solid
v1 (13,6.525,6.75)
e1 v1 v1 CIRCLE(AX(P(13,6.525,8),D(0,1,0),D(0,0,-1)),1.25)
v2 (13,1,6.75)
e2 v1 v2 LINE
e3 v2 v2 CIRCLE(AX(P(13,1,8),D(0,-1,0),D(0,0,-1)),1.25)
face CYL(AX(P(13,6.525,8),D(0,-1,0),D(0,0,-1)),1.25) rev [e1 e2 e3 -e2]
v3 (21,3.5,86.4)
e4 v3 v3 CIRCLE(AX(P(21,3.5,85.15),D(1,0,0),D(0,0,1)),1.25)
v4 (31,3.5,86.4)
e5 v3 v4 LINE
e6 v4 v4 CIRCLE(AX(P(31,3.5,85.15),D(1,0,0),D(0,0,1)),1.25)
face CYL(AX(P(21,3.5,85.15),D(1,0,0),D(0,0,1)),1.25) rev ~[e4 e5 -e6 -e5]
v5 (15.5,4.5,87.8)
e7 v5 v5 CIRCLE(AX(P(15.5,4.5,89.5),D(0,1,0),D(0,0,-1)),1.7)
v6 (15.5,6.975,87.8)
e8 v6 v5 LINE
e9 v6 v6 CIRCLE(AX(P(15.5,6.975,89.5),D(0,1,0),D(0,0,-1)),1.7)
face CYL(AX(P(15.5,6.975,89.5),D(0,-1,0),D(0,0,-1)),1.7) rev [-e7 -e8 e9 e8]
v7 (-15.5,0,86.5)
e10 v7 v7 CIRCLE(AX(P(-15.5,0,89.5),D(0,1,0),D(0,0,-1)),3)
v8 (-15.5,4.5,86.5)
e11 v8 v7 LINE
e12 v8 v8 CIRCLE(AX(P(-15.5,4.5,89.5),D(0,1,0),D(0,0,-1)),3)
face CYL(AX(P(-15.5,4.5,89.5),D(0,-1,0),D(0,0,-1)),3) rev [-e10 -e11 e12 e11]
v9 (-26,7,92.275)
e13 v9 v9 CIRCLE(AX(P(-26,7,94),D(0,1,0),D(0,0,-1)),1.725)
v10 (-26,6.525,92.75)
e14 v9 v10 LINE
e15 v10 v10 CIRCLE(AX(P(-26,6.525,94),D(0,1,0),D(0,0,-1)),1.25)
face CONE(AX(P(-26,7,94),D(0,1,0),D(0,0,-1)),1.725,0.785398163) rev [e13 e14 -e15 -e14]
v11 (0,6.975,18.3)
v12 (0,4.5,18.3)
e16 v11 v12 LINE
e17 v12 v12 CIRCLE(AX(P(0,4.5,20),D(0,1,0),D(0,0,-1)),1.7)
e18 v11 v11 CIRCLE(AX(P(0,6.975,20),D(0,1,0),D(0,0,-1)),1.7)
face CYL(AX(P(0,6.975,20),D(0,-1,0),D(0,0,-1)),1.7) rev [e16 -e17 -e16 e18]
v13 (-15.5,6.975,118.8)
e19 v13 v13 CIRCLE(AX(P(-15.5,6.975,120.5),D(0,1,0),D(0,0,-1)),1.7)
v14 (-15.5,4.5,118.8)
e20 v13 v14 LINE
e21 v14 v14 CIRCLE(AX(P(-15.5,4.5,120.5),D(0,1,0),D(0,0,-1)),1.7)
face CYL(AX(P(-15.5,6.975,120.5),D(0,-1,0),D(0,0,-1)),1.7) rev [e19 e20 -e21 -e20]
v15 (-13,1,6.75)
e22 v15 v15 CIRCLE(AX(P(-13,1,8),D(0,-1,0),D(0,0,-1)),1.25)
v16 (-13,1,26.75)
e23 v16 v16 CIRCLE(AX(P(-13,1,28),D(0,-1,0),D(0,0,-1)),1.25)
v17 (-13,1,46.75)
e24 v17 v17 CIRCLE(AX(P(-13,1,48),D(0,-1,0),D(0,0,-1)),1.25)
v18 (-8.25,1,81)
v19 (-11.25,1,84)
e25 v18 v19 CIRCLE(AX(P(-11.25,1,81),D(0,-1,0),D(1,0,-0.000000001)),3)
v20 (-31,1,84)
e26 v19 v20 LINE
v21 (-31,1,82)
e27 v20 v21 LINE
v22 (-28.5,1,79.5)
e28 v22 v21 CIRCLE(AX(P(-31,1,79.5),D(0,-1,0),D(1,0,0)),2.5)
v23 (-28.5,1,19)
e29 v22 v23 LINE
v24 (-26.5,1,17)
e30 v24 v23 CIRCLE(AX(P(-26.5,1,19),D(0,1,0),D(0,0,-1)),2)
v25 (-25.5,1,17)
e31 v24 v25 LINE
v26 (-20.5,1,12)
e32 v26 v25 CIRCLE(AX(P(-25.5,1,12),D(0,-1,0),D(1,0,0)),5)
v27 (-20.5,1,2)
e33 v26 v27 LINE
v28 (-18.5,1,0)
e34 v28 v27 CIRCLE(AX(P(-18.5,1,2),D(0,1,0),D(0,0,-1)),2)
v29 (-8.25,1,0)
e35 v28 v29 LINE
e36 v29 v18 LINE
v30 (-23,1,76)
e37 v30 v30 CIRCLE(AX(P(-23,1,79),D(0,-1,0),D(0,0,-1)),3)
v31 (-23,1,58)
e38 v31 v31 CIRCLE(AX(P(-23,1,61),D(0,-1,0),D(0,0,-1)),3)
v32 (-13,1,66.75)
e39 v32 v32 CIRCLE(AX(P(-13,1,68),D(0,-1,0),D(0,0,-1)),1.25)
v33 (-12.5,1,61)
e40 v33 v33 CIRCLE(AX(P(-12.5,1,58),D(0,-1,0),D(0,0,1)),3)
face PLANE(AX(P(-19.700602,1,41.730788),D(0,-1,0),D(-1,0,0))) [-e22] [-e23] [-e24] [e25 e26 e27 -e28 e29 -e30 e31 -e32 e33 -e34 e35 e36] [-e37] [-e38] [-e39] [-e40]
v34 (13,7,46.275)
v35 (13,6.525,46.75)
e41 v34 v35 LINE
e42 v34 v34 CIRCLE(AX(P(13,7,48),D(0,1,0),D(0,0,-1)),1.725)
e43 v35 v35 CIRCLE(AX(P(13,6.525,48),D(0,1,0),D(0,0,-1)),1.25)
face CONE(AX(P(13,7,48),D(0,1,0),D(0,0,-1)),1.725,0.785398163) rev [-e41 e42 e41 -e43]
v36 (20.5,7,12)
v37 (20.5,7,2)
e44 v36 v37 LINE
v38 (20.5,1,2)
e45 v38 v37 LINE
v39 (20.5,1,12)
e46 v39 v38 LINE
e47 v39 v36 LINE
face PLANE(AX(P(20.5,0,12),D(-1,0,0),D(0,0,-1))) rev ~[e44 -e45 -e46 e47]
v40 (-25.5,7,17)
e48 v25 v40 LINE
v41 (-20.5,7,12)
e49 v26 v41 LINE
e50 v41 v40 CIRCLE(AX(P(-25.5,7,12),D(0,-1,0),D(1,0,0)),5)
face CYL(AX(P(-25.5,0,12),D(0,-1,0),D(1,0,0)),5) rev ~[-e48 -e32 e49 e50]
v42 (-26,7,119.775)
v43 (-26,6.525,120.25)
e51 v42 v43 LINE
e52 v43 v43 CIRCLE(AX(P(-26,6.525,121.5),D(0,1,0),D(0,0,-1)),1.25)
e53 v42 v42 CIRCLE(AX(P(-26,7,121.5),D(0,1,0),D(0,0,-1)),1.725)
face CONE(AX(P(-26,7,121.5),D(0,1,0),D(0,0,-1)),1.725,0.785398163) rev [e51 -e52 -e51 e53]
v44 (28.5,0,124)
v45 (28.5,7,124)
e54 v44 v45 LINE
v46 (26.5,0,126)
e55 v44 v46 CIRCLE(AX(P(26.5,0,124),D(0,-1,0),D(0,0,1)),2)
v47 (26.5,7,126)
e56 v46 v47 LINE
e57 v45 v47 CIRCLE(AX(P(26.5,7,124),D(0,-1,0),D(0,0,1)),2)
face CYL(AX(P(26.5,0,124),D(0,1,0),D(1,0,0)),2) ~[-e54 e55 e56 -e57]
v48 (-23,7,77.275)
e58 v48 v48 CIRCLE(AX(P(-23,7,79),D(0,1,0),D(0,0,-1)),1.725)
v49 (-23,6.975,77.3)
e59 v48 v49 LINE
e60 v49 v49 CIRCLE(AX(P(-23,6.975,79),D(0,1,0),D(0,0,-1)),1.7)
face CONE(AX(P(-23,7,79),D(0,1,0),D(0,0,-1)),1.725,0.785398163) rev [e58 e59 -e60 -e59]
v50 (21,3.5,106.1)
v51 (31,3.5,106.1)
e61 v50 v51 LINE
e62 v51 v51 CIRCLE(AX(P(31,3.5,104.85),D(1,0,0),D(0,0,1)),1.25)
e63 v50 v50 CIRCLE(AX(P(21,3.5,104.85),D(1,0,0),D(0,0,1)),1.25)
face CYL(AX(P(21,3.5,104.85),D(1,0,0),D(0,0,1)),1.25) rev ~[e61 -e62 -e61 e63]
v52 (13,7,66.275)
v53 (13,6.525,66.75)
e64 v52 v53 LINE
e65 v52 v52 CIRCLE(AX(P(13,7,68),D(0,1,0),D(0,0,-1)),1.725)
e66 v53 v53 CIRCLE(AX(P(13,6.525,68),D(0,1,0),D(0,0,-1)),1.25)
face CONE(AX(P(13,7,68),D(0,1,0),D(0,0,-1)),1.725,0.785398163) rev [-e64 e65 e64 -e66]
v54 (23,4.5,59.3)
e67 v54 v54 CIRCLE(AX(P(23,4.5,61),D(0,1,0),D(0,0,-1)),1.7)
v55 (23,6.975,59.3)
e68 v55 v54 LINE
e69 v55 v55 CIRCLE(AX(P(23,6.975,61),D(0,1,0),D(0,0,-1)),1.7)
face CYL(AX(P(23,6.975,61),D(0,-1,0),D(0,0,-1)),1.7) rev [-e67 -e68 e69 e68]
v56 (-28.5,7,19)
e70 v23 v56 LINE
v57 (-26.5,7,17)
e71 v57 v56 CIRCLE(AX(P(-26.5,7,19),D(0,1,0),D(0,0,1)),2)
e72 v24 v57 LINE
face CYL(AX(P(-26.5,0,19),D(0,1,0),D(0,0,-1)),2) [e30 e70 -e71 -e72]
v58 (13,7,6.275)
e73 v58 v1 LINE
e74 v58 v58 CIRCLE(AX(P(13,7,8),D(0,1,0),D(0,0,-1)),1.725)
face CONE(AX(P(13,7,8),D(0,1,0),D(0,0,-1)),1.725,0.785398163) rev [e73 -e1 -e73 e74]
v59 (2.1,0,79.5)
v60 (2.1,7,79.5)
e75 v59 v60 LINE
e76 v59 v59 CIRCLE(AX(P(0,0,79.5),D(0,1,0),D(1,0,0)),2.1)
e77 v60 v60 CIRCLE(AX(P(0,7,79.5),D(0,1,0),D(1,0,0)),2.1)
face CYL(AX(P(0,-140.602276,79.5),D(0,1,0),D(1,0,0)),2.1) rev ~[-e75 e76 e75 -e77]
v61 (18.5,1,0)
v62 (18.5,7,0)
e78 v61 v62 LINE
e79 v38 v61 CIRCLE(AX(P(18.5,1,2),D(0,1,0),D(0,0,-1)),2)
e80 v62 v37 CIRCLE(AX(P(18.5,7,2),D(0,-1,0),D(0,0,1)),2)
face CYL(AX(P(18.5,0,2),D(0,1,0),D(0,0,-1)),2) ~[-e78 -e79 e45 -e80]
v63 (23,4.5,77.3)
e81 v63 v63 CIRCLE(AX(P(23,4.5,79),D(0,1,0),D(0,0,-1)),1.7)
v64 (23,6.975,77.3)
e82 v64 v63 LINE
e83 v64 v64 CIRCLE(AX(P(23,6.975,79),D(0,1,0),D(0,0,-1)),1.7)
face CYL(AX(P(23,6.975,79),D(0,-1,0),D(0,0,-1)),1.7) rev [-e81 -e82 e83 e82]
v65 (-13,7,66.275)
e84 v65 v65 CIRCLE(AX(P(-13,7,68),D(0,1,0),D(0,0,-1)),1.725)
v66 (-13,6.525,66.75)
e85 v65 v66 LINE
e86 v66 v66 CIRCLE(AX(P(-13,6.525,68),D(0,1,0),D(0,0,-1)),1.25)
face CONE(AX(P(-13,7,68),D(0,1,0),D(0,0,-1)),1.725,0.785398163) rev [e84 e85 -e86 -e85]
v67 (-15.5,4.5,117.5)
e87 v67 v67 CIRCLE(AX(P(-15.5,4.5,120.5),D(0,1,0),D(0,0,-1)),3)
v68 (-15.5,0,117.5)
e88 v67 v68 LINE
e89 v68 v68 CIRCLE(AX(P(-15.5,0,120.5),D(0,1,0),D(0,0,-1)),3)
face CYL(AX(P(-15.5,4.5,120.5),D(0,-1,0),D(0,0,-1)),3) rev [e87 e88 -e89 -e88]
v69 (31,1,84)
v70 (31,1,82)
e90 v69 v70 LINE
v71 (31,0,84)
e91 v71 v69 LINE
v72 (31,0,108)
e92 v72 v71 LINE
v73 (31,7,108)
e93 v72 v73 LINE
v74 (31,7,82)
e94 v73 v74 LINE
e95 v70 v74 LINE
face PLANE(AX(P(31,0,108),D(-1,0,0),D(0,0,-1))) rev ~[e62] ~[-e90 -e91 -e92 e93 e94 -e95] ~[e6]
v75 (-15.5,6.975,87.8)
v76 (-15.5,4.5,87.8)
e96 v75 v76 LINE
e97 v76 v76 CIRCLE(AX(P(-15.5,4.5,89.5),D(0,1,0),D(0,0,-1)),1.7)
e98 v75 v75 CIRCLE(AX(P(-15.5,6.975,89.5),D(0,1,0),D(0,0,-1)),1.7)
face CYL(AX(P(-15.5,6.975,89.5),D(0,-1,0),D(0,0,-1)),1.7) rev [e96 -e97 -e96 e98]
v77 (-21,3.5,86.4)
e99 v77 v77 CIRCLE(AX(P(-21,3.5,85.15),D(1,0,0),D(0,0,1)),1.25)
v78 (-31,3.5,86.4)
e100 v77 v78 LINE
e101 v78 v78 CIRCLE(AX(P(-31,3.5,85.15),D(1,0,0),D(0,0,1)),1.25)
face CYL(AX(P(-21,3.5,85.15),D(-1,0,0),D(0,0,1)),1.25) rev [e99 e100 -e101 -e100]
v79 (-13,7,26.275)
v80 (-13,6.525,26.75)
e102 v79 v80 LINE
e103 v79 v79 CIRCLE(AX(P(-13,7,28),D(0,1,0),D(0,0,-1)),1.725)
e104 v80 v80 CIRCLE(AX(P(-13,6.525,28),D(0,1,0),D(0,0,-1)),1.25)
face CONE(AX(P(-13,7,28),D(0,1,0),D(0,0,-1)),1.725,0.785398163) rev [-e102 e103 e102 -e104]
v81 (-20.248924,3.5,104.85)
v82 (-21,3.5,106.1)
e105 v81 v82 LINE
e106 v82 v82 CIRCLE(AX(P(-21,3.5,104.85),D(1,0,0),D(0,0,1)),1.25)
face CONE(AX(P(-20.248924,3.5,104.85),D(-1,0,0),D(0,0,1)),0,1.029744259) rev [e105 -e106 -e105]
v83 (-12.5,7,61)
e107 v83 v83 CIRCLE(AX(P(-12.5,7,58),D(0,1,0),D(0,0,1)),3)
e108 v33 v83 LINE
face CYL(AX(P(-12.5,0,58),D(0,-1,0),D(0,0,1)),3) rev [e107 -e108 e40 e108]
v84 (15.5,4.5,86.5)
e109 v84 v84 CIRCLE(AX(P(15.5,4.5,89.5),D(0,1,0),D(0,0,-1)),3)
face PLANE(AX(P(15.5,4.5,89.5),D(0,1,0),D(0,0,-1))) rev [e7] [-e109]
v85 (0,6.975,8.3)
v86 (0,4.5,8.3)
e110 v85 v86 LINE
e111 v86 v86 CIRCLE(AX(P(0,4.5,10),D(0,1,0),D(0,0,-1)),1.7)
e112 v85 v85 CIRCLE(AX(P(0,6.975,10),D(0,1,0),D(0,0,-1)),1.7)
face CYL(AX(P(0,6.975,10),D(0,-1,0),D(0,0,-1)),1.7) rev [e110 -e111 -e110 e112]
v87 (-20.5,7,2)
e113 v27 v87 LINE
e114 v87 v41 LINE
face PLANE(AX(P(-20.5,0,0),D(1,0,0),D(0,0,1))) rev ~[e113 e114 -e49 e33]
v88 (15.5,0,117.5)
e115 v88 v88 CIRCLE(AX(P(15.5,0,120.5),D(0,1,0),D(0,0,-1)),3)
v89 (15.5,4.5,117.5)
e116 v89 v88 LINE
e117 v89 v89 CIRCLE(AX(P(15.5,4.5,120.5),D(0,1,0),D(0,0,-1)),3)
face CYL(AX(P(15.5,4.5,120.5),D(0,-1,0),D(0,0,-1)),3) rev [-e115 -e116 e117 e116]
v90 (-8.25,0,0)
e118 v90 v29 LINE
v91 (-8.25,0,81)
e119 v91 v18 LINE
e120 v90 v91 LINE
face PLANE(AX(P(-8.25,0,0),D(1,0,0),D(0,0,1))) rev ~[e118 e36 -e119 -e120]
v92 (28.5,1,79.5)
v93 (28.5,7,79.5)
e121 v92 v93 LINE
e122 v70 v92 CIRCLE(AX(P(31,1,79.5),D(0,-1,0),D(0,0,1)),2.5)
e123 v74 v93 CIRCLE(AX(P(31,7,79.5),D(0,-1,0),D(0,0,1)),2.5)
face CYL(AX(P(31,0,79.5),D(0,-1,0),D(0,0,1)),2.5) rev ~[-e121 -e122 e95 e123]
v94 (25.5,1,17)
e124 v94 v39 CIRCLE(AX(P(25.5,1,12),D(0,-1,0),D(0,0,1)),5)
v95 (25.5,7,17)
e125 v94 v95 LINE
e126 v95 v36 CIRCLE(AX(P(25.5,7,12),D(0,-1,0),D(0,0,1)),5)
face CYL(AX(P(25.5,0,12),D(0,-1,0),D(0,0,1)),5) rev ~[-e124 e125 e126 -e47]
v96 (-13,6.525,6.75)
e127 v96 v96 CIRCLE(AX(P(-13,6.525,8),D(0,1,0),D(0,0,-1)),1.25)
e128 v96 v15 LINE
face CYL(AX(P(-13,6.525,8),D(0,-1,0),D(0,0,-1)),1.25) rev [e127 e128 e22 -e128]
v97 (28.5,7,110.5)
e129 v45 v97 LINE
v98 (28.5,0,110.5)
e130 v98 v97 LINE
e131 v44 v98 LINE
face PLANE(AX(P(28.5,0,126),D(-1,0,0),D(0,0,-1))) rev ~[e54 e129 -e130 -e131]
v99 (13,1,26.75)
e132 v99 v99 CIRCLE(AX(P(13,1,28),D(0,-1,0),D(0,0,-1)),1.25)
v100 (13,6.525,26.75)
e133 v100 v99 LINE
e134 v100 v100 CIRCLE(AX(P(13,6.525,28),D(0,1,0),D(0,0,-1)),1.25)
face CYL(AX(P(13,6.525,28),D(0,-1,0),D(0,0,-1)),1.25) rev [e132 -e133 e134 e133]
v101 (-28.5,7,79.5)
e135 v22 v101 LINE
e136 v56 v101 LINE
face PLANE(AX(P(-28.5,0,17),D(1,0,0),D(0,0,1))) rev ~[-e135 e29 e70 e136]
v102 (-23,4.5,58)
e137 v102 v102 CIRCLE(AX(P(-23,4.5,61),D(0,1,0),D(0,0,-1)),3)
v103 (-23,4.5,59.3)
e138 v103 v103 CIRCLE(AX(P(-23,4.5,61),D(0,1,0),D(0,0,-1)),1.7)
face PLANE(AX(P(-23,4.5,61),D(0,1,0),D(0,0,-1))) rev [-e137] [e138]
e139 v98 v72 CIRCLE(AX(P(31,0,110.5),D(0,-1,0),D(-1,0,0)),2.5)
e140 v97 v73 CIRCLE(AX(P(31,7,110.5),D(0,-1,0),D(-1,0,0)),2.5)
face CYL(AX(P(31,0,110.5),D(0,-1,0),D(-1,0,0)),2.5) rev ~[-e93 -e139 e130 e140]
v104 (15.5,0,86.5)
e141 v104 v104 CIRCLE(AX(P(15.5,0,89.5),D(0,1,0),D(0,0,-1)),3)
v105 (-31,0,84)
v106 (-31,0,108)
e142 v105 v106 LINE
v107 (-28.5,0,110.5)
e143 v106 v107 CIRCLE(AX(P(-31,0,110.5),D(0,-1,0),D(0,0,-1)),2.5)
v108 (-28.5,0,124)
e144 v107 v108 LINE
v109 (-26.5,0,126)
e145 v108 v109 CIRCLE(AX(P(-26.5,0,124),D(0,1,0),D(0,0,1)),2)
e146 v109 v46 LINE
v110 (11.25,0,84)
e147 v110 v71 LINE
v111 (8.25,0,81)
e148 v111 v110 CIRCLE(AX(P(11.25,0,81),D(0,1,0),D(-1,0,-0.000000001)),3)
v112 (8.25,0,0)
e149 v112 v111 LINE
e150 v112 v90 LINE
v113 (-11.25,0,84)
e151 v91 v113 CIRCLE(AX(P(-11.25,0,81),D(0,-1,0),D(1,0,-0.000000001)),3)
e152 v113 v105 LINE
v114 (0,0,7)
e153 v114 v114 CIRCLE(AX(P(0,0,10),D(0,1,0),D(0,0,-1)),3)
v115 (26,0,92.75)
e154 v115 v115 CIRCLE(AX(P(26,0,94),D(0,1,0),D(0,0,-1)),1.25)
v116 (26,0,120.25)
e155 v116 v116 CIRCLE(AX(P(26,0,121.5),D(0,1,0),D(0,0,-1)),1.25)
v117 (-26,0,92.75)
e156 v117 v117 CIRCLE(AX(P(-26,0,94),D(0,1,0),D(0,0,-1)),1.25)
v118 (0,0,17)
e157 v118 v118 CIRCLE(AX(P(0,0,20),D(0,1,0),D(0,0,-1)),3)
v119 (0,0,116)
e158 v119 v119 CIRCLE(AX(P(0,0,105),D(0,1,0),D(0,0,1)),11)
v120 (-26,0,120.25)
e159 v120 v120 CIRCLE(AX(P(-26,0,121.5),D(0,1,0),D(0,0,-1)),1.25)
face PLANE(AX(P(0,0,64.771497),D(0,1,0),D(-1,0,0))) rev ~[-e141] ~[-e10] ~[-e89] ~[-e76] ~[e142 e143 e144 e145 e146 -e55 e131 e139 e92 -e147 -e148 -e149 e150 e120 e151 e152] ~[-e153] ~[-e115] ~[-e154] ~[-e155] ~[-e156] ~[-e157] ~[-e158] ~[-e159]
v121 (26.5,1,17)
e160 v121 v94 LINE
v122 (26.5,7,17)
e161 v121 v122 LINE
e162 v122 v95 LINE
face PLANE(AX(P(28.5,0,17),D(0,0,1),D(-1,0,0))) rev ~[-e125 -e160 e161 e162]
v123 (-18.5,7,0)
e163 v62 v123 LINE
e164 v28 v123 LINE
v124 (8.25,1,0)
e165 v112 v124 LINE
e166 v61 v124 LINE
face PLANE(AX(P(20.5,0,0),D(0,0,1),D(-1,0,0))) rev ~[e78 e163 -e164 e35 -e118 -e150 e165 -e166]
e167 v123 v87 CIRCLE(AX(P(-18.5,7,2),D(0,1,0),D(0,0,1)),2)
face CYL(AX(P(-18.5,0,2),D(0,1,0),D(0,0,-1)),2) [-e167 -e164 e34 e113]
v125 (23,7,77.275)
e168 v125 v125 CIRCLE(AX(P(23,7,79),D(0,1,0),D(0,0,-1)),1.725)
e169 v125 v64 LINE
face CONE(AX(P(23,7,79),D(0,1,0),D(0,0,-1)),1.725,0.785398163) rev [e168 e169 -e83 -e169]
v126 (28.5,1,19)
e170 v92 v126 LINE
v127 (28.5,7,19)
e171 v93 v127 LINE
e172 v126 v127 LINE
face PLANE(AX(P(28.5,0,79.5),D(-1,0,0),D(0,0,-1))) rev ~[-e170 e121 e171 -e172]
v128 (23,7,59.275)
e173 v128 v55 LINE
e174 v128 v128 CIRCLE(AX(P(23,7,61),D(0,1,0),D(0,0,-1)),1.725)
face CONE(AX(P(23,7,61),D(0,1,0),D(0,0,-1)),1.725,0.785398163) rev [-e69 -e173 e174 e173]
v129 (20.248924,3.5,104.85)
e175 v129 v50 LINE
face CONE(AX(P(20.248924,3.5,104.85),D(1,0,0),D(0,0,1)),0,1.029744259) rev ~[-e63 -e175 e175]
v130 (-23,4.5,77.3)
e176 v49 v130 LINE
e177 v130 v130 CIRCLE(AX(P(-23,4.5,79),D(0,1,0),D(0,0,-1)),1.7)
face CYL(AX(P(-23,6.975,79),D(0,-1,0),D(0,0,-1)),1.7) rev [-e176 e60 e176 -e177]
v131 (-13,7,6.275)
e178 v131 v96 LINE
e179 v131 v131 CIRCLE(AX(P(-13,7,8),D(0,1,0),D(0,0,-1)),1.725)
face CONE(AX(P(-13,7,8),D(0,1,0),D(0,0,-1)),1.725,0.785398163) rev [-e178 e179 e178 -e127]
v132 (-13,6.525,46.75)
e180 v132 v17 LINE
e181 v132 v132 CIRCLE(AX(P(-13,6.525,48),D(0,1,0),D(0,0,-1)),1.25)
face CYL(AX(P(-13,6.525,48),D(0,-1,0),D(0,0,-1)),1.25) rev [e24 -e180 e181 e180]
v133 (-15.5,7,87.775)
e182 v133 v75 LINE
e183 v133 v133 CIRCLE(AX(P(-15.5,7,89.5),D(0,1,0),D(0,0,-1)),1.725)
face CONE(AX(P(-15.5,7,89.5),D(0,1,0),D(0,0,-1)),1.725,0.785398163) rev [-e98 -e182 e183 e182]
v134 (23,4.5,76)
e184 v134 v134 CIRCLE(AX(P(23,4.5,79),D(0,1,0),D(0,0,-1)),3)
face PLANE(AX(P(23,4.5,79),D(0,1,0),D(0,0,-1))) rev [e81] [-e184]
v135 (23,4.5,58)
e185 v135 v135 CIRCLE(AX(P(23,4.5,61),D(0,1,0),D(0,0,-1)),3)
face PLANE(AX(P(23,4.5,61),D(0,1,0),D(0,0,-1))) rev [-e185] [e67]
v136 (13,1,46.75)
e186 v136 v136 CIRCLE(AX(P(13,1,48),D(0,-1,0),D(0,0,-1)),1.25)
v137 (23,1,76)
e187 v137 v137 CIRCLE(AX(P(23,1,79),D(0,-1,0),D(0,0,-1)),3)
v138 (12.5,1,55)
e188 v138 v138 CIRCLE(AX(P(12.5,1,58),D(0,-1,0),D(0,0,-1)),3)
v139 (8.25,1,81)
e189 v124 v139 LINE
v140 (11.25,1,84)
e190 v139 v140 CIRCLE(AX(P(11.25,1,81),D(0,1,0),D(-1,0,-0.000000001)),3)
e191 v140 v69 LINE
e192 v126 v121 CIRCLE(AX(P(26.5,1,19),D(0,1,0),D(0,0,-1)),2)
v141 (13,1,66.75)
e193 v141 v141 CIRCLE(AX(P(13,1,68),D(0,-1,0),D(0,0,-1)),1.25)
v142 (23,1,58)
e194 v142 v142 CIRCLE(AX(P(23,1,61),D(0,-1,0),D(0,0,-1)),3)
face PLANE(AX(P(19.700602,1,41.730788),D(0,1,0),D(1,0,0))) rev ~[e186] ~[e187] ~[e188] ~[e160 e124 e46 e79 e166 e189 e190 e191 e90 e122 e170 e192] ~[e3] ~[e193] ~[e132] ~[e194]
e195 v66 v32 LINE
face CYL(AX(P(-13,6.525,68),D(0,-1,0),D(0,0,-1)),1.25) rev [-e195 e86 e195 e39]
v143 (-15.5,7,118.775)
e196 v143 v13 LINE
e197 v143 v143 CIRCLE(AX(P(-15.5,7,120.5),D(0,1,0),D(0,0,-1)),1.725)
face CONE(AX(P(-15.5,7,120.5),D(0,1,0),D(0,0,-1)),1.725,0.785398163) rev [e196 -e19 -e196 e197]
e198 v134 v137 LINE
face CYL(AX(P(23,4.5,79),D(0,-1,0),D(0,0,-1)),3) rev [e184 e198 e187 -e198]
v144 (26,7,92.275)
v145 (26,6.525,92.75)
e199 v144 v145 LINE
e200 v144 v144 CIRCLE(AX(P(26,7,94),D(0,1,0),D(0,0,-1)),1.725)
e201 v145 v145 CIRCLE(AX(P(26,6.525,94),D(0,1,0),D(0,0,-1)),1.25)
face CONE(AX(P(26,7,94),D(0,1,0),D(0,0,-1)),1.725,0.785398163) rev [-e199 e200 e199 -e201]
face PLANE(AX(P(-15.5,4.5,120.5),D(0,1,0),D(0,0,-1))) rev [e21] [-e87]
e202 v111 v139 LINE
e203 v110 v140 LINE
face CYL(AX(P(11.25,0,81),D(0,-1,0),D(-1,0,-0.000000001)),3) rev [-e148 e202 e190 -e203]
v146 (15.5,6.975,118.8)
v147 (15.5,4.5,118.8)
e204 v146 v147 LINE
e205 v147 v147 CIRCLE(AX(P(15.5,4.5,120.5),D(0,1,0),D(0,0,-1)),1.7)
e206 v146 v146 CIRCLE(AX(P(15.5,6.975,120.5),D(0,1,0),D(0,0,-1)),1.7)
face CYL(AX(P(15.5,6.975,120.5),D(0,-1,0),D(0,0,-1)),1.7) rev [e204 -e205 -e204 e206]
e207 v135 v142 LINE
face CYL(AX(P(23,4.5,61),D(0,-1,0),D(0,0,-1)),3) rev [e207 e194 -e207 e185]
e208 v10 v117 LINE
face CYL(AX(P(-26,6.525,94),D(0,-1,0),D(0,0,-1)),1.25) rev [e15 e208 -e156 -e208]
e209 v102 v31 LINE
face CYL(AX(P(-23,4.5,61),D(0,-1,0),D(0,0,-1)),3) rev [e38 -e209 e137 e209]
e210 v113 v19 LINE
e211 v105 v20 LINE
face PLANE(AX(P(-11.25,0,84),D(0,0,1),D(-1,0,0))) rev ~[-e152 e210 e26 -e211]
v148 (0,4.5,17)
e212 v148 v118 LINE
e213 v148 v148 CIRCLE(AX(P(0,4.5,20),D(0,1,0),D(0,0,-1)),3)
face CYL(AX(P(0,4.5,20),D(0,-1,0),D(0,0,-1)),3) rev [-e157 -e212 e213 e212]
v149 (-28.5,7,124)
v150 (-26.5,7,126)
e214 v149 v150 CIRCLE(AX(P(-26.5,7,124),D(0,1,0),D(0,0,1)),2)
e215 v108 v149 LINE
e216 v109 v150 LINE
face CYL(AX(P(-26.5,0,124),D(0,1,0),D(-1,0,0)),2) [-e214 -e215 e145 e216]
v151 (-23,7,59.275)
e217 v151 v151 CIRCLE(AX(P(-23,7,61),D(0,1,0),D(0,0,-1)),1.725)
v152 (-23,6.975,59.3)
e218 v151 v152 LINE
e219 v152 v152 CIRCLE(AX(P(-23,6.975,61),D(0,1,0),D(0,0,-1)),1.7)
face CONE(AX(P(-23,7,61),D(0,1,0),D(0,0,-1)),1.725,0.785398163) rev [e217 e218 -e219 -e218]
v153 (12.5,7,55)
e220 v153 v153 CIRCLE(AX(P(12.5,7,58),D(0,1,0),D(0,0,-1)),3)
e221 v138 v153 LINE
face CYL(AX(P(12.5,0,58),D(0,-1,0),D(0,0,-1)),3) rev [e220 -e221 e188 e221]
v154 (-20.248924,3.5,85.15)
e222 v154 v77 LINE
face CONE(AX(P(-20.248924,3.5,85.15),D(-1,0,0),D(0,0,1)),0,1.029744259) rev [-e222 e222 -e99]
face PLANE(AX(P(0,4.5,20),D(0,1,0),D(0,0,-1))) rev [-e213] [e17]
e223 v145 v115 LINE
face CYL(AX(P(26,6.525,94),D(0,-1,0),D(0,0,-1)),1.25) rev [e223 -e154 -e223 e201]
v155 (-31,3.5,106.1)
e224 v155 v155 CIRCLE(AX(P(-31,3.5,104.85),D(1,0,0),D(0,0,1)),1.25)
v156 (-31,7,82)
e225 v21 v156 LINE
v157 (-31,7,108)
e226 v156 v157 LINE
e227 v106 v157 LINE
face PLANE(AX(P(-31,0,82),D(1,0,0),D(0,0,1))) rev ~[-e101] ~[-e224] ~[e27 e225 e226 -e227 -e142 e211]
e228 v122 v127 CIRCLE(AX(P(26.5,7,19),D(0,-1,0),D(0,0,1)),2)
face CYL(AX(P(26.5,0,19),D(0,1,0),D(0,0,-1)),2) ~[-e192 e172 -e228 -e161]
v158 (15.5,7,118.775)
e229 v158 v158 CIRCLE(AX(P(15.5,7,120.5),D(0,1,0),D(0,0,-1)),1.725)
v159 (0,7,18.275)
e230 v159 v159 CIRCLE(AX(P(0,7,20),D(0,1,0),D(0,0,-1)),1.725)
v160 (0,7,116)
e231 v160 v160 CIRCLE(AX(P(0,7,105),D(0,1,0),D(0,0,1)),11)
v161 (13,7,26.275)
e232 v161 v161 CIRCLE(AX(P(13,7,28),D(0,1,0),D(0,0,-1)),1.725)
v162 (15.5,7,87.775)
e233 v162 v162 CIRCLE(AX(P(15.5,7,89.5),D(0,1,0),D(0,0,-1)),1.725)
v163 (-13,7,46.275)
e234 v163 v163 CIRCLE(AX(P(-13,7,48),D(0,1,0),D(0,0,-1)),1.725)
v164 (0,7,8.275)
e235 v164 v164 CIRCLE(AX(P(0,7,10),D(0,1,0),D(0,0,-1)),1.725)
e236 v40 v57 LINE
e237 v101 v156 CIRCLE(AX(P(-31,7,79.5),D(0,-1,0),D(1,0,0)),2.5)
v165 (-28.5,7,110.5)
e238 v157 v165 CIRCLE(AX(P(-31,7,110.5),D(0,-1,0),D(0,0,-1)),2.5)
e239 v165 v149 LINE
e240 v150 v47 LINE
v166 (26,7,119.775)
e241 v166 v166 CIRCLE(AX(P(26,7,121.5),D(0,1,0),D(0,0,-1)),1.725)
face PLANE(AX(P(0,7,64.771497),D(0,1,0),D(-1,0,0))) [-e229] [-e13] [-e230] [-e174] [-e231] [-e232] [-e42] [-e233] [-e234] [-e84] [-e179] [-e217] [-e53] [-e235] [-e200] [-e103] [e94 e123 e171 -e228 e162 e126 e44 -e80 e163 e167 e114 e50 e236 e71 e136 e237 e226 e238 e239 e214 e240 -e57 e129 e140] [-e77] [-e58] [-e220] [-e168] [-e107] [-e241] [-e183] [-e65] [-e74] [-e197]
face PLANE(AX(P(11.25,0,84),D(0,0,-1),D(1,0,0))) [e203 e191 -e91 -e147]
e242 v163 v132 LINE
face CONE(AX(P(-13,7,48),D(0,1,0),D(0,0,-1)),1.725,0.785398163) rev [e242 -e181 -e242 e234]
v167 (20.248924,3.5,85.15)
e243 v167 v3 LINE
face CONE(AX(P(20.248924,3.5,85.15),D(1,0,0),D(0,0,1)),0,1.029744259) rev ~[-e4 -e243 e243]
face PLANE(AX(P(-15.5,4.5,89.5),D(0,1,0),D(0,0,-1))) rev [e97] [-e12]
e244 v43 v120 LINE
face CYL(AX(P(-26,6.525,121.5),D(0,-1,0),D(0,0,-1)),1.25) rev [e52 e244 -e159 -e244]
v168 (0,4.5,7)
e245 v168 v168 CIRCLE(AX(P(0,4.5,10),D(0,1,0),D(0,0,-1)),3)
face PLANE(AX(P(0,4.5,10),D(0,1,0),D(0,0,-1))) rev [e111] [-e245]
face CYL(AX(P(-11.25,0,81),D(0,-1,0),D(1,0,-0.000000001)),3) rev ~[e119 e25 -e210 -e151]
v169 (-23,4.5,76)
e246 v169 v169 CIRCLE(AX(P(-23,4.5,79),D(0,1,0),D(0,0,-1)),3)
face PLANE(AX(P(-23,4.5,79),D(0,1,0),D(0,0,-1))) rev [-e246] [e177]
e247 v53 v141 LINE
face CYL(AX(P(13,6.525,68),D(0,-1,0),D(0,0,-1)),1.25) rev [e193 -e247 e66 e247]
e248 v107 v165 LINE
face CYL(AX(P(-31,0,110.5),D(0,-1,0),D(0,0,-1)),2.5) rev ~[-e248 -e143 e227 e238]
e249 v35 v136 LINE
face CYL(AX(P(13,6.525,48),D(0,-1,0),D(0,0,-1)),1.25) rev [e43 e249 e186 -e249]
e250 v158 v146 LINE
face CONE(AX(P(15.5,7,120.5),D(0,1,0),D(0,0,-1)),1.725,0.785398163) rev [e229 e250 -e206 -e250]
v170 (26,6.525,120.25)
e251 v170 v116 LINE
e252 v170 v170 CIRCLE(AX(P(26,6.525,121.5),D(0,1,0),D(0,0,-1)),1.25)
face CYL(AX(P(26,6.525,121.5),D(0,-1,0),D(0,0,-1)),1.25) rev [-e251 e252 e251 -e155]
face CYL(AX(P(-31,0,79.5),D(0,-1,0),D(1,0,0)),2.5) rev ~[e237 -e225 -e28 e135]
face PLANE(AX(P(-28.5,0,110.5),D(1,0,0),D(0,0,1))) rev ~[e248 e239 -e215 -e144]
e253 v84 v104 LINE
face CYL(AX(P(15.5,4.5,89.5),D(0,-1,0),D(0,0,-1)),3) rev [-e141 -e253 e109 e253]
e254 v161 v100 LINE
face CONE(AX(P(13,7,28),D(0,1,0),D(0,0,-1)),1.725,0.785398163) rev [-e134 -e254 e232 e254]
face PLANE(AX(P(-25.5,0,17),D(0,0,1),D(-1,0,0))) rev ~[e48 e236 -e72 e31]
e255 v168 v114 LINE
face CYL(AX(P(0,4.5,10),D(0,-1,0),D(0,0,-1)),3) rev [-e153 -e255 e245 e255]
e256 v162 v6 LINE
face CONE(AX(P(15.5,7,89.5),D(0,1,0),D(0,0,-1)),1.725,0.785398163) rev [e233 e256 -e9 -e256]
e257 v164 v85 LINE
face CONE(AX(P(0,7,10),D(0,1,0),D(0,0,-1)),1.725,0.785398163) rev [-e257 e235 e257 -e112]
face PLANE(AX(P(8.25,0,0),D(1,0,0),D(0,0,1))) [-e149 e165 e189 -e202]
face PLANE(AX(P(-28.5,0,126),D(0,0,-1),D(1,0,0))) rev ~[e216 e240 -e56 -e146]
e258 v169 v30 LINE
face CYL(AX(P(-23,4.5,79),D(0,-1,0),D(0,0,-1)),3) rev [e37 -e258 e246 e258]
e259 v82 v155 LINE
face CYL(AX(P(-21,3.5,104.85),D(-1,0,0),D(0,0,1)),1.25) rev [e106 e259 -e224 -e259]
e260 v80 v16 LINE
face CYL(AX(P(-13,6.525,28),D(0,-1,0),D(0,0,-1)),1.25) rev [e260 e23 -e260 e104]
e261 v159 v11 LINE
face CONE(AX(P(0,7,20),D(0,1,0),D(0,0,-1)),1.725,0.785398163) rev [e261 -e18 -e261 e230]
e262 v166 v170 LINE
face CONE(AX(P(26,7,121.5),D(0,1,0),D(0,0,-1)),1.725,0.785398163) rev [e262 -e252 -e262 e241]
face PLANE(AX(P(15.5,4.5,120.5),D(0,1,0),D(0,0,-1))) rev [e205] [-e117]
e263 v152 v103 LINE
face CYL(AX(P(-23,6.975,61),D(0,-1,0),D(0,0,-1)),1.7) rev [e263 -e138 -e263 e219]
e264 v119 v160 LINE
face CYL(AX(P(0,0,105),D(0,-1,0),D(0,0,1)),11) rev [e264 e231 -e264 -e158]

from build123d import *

# Parameters (mm, degrees)
PLATE_MAIN_SKETCH_R                          = 11
PLATE_MAIN_SKETCH_R_2                        = 3
EXTRUDE_PLATE_MAIN_DEPTH                     = 7
CORNER_FILLETS_R                             = 2
M3X0_5_TAPPED_HOLES_AT_2_COUNT               = 2
M3X0_5_TAPPED_HOLES_AT_2_PITCH               = 27.5
M3X0_5_TAPPED_HOLES_AT_3_COUNT               = 2
M3X0_5_TAPPED_HOLES_AT_3_PITCH               = 58.823889705
M3X0_5_TAPPED_HOLES_AT_4_COUNT               = 2
M3X0_5_TAPPED_HOLES_AT_4_PITCH               = 66.206117542
M3X0_5_TAPPED_HOLES_AT_5_COUNT               = 2
M3X0_5_TAPPED_HOLES_AT_5_PITCH               = 83.20606949
M3X0_5_TAPPED_HOLES_AT_6_COUNT               = 2
M3X0_5_TAPPED_HOLES_AT_6_PITCH               = 101.307699609
M3X0_5_TAPPED_HOLES_AT_7_COUNT               = 2
M3X0_5_TAPPED_HOLES_AT_7_PITCH               = 120.013540903
M3X0_5_TAPPED_HOLES_AT_8_COUNT               = 2
M3X0_5_TAPPED_HOLES_AT_8_PITCH               = 114.242067558
M3X0_5_TAPPED_HOLES_AT_9_COUNT               = 2
M3X0_5_TAPPED_HOLES_AT_9_PITCH               = 94.399417371
M3X0_5_TAPPED_HOLES_AT_10_COUNT              = 2
M3X0_5_TAPPED_HOLES_AT_10_PITCH              = 74.640806534
M3X0_5_TAPPED_HOLES_AT_11_COUNT              = 2
M3X0_5_TAPPED_HOLES_AT_11_PITCH              = 55.056788864
M3X0_5_TAPPED_HOLES_AT_12_COUNT              = 2
M3X0_5_TAPPED_HOLES_AT_12_PITCH              = 52
M3_COUNTER_BORES_AT_2_COUNT                  = 2
M3_COUNTER_BORES_AT_2_PITCH                  = 31
M3_COUNTER_BORES_AT_3_COUNT                  = 2
M3_COUNTER_BORES_AT_3_PITCH                  = 43.840620434
M3_COUNTER_BORES_AT_4_COUNT                  = 2
M3_COUNTER_BORES_AT_4_PITCH                  = 31
M3_COUNTER_BORES_AT_5_COUNT                  = 2
M3_COUNTER_BORES_AT_5_PITCH                  = 42.172265768
M3_COUNTER_BORES_AT_6_COUNT                  = 2
M3_COUNTER_BORES_AT_6_PITCH                  = 56.608303278
M3_COUNTER_BORES_AT_7_COUNT                  = 2
M3_COUNTER_BORES_AT_7_PITCH                  = 70.86959856
M3_COUNTER_BORES_AT_8_COUNT                  = 2
M3_COUNTER_BORES_AT_8_PITCH                  = 59.970826241
M3_COUNTER_BORES_AT_9_COUNT                  = 2
M3_COUNTER_BORES_AT_9_PITCH                  = 101.688249075
M3_COUNTER_BORES_AT_10_COUNT                 = 2
M3_COUNTER_BORES_AT_10_PITCH                 = 111.581808553
M5X0_8_TAPPED_HOLE1_D                        = 4.2
CUT_RECESS_DEPTH                             = 1
LEFT_Z_AXIS_SENSORS_M3X0_5_TAPPED_HO_2_COUNT = 2
LEFT_Z_AXIS_SENSORS_M3X0_5_TAPPED_HO_2_PITCH = 19.7


with BuildPart() as part:
    # Plate Main Sketch → Extrude Plate Main (new body)
    with BuildSketch(Plane(origin=(-158.085545862, 0, 24.679095537), x_dir=(-1, 0, 0), z_dir=(0, 1, 0))):
        with BuildLine():
            Line((-178.585545862, -24.679095537), (-137.585545862, -24.679095537))
            Line((-137.585545862, -24.679095537), (-137.585545862, -12.679095537))
            ThreePointArc((-137.585545862, -12.679095537), (-136.121079768, -9.143561631), (-132.585545862, -7.679095537))
            Line((-132.585545862, -7.679095537), (-129.585545862, -7.679095537))
            Line((-129.585545862, -7.679095537), (-129.585545862, 54.820904463))
            ThreePointArc((-129.585545862, 54.820904463), (-128.853312815, 56.588671416), (-127.085545862, 57.320904463))
            Line((-127.085545862, 57.320904463), (-127.085545862, 83.320904463))
            ThreePointArc((-127.085545862, 83.320904463), (-128.853312815, 84.05313751), (-129.585545862, 85.820904463))
            Line((-129.585545862, 85.820904463), (-129.585545862, 101.320904463))
            Line((-129.585545862, 101.320904463), (-186.585545862, 101.320904463))
            Line((-186.585545862, 101.320904463), (-186.585545862, 85.820904463))
            ThreePointArc((-186.585545862, 85.820904463), (-187.317778909, 84.05313751), (-189.085545862, 83.320904463))
            Line((-189.085545862, 83.320904463), (-189.085545862, 57.320904463))
            ThreePointArc((-189.085545862, 57.320904463), (-187.317778909, 56.588671416), (-186.585545862, 54.820904463))
            Line((-186.585545862, 54.820904463), (-186.585545862, -7.679095537))
            Line((-186.585545862, -7.679095537), (-183.585545862, -7.679095537))
            ThreePointArc((-183.585545862, -7.679095537), (-180.050011956, -9.143561631), (-178.585545862, -12.679095537))
            Line((-178.585545862, -12.679095537), (-178.585545862, -24.679095537))
        make_face()
        with Locations(Location((-158.085545862, 80.320904463, 0), (0, 0, 90))):
            Circle(PLATE_MAIN_SKETCH_R, mode=Mode.SUBTRACT)
        with Locations(Location((-145.585545862, 33.320904463, 0), (0, 0, 90))):
            Circle(PLATE_MAIN_SKETCH_R_2, mode=Mode.SUBTRACT)
        with Locations(Location((-170.585545862, 33.320904463, 0), (0, 0, 270))):
            Circle(PLATE_MAIN_SKETCH_R_2, mode=Mode.SUBTRACT)
    extrude(amount=EXTRUDE_PLATE_MAIN_DEPTH)

    # Corner Fillets
    corner_fillets_edges = [part.edges().sort_by_distance(p)[0] for p in [
        (28.5, 3.5, 126),
        (-28.5, 3.5, 126),
        (-28.5, 3.5, 17),
        (-20.5, 3.5, 0),
        (20.5, 3.5, 0),
        (28.5, 3.5, 17),
    ]]
    fillet(corner_fillets_edges, radius=CORNER_FILLETS_R)

    # Sketch13 → M3x0.5 Tapped Holes (revolve, cut)
    with BuildSketch(Plane(origin=(26, 0, 121.5), x_dir=(0, 0, -1), z_dir=(1, 0, 0))):
        Polygon((0, 0), (0, 7), (1.725, 7), (1.25, 6.525), (1.25, 0), align=None)
    m3x0_5_tapped_holes = revolve(axis=Axis((26, -6.35, 121.5), (0, 1, 0)), mode=Mode.SUBTRACT)

    # M3x0.5 Tapped Holes at 2: M3x0.5 Tapped Holes ×2
    with Locations(*[(0, 0, -i * M3X0_5_TAPPED_HOLES_AT_2_PITCH) for i in range(1, M3X0_5_TAPPED_HOLES_AT_2_COUNT)]):
        add(m3x0_5_tapped_holes, mode=Mode.SUBTRACT)

    # M3x0.5 Tapped Holes at 3: M3x0.5 Tapped Holes ×2
    with Locations(*[Vector(-0.8839945855497452, 0, -0.46749713658880765) * (i * M3X0_5_TAPPED_HOLES_AT_3_PITCH) for i in range(1, M3X0_5_TAPPED_HOLES_AT_3_COUNT)]):
        add(m3x0_5_tapped_holes, mode=Mode.SUBTRACT)

    # M3x0.5 Tapped Holes at 4: M3x0.5 Tapped Holes ×2
    with Locations(*[Vector(-0.5890694311623529, 0, -0.8080824247996377) * (i * M3X0_5_TAPPED_HOLES_AT_4_PITCH) for i in range(1, M3X0_5_TAPPED_HOLES_AT_4_COUNT)]):
        add(m3x0_5_tapped_holes, mode=Mode.SUBTRACT)

    # M3x0.5 Tapped Holes at 5: M3x0.5 Tapped Holes ×2
    with Locations(*[Vector(-0.46871580689935055, 0, -0.8833490206949294) * (i * M3X0_5_TAPPED_HOLES_AT_5_PITCH) for i in range(1, M3X0_5_TAPPED_HOLES_AT_5_COUNT)]):
        add(m3x0_5_tapped_holes, mode=Mode.SUBTRACT)

    # M3x0.5 Tapped Holes at 6: M3x0.5 Tapped Holes ×2
    with Locations(*[Vector(-0.38496580369162126, 0, -0.9229308370555532) * (i * M3X0_5_TAPPED_HOLES_AT_6_PITCH) for i in range(1, M3X0_5_TAPPED_HOLES_AT_6_COUNT)]):
        add(m3x0_5_tapped_holes, mode=Mode.SUBTRACT)

    # M3x0.5 Tapped Holes at 7: M3x0.5 Tapped Holes ×2
    with Locations(*[Vector(-0.32496333085967716, 0, -0.9457266167326497) * (i * M3X0_5_TAPPED_HOLES_AT_7_PITCH) for i in range(1, M3X0_5_TAPPED_HOLES_AT_7_COUNT)]):
        add(m3x0_5_tapped_holes, mode=Mode.SUBTRACT)

    # M3x0.5 Tapped Holes at 8: M3x0.5 Tapped Holes ×2
    with Locations(*[Vector(-0.113793458730633, 0, -0.993504428148219) * (i * M3X0_5_TAPPED_HOLES_AT_8_PITCH) for i in range(1, M3X0_5_TAPPED_HOLES_AT_8_COUNT)]):
        add(m3x0_5_tapped_holes, mode=Mode.SUBTRACT)

    # M3x0.5 Tapped Holes at 9: M3x0.5 Tapped Holes ×2
    with Locations(*[Vector(-0.13771271435815216, 0, -0.9904722148067102) * (i * M3X0_5_TAPPED_HOLES_AT_9_PITCH) for i in range(1, M3X0_5_TAPPED_HOLES_AT_9_COUNT)]):
        add(m3x0_5_tapped_holes, mode=Mode.SUBTRACT)

    # M3x0.5 Tapped Holes at 10: M3x0.5 Tapped Holes ×2
    with Locations(*[Vector(-0.17416746420246676, 0, -0.9847160476062541) * (i * M3X0_5_TAPPED_HOLES_AT_10_PITCH) for i in range(1, M3X0_5_TAPPED_HOLES_AT_10_COUNT)]):
        add(m3x0_5_tapped_holes, mode=Mode.SUBTRACT)

    # M3x0.5 Tapped Holes at 11: M3x0.5 Tapped Holes ×2
    with Locations(*[Vector(-0.23611983677697992, 0, -0.9717239436591096) * (i * M3X0_5_TAPPED_HOLES_AT_11_PITCH) for i in range(1, M3X0_5_TAPPED_HOLES_AT_11_COUNT)]):
        add(m3x0_5_tapped_holes, mode=Mode.SUBTRACT)

    # M3x0.5 Tapped Holes at 12: M3x0.5 Tapped Holes ×2
    with Locations(*[(-i * M3X0_5_TAPPED_HOLES_AT_12_PITCH, 0, 0) for i in range(1, M3X0_5_TAPPED_HOLES_AT_12_COUNT)]):
        add(m3x0_5_tapped_holes, mode=Mode.SUBTRACT)

    # Sketch5 → M3 Counter Bores (revolve, cut)
    with BuildSketch(Plane(origin=(-15.5, 0, 120.5), x_dir=(0, 0, -1), z_dir=(1, 0, 0))):
        Polygon((0, 0), (0, 7), (1.725, 7), (1.7, 6.975), (1.7, 4.5), (3, 4.5), (3, 0), align=None)
    m3_counter_bores = revolve(axis=Axis((-15.5, -6.35, 120.5), (0, 1, 0)), mode=Mode.SUBTRACT)

    # M3 Counter Bores at 2: M3 Counter Bores ×2
    with Locations(*[(i * M3_COUNTER_BORES_AT_2_PITCH, 0, 0) for i in range(1, M3_COUNTER_BORES_AT_2_COUNT)]):
        add(m3_counter_bores, mode=Mode.SUBTRACT)

    # M3 Counter Bores at 3: M3 Counter Bores ×2
    with Locations(*[Vector(0.7071067811865479, 0, -0.7071067811865472) * (i * M3_COUNTER_BORES_AT_3_PITCH) for i in range(1, M3_COUNTER_BORES_AT_3_COUNT)]):
        add(m3_counter_bores, mode=Mode.SUBTRACT)

    # M3 Counter Bores at 4: M3 Counter Bores ×2
    with Locations(*[(0, 0, -i * M3_COUNTER_BORES_AT_4_PITCH) for i in range(1, M3_COUNTER_BORES_AT_4_COUNT)]):
        add(m3_counter_bores, mode=Mode.SUBTRACT)

    # M3 Counter Bores at 5: M3 Counter Bores ×2
    with Locations(*[Vector(-0.1778419978967634, 0, -0.9840590550287557) * (i * M3_COUNTER_BORES_AT_5_PITCH) for i in range(1, M3_COUNTER_BORES_AT_5_COUNT)]):
        add(m3_counter_bores, mode=Mode.SUBTRACT)

    # M3 Counter Bores at 6: M3 Counter Bores ×2
    with Locations(*[Vector(0.6801122409730789, 0, -0.7331080000099417) * (i * M3_COUNTER_BORES_AT_6_PITCH) for i in range(1, M3_COUNTER_BORES_AT_6_COUNT)]):
        add(m3_counter_bores, mode=Mode.SUBTRACT)

    # M3 Counter Bores at 7: M3 Counter Bores ×2
    with Locations(*[Vector(0.5432512781572745, 0, -0.8395701571521512) * (i * M3_COUNTER_BORES_AT_7_PITCH) for i in range(1, M3_COUNTER_BORES_AT_7_COUNT)]):
        add(m3_counter_bores, mode=Mode.SUBTRACT)

    # M3 Counter Bores at 8: M3 Counter Bores ×2
    with Locations(*[Vector(-0.12506080823181873, 0, -0.9921490786390946) * (i * M3_COUNTER_BORES_AT_8_PITCH) for i in range(1, M3_COUNTER_BORES_AT_8_COUNT)]):
        add(m3_counter_bores, mode=Mode.SUBTRACT)

    # M3 Counter Bores at 9: M3 Counter Bores ×2
    with Locations(*[Vector(0.15242665834989907, 0, -0.9883147847848291) * (i * M3_COUNTER_BORES_AT_9_PITCH) for i in range(1, M3_COUNTER_BORES_AT_9_COUNT)]):
        add(m3_counter_bores, mode=Mode.SUBTRACT)

    # M3 Counter Bores at 10: M3 Counter Bores ×2
    with Locations(*[Vector(0.13891153227375555, 0, -0.9903047945967733) * (i * M3_COUNTER_BORES_AT_10_PITCH) for i in range(1, M3_COUNTER_BORES_AT_10_COUNT)]):
        add(m3_counter_bores, mode=Mode.SUBTRACT)

    # M5x0.8 Tapped Hole1 (through all)
    with Locations(Plane(origin=(0, 0, 0), x_dir=(-1, 0, 0), z_dir=(0, -1, 0))):
        with Locations((0, -79.5)):
            Hole(M5X0_8_TAPPED_HOLE1_D / 2)

    # Reccess Sketch → Cut Recess (cut)
    with BuildSketch(Plane(origin=(0, 0, 0), x_dir=(1, 0, 0), z_dir=(0, 1, 0))):
        with BuildLine():
            Line((-8.25, 0), (-8.25, -81))
            ThreePointArc((-8.25, -81), (-9.128679656, -83.121320344), (-11.25, -84))
            Line((-11.25, -84), (-31, -84))
            Line((-31, -84), (-31, 0))
            Line((-31, 0), (-8.25, 0))
        make_face()
        with BuildLine():
            Line((31, 0), (8.25, 0))
            Line((8.25, 0), (8.25, -81))
            ThreePointArc((8.25, -81), (9.128679656, -83.121320344), (11.25, -84))
            Line((11.25, -84), (31, -84))
            Line((31, -84), (31, 0))
        make_face()
    extrude(amount=CUT_RECESS_DEPTH, mode=Mode.SUBTRACT)

    # Sketch17 → Left Z-Axis Sensors M3x0.5 Tapped Holes (revolve, cut)
    with BuildSketch(Plane(origin=(-31, 3.5, 85.15), x_dir=(0, 0, 1), z_dir=(0, 1, 0))):
        Polygon((0, 0), (0, 10.751075774), (1.25, 10), (1.25, 0), align=None)
    left_z_axis_sensors_m3x0_5_tapped_holes = revolve(axis=Axis((-37.35, 3.5, 85.15), (1, 0, 0)), mode=Mode.SUBTRACT)

    # Left Z-Axis Sensors M3x0.5 Tapped Ho 2: Left Z-Axis Sensors M3x0.5 Tapped Holes ×2
    with Locations(*[(0, 0, i * LEFT_Z_AXIS_SENSORS_M3X0_5_TAPPED_HO_2_PITCH) for i in range(1, LEFT_Z_AXIS_SENSORS_M3X0_5_TAPPED_HO_2_COUNT)]):
        add(left_z_axis_sensors_m3x0_5_tapped_holes, mode=Mode.SUBTRACT)

    # Right Z-Axis Sensor Holes Mirror: Left Z-Axis Sensors M3x0.5 Tapped Holes across plane
    add(left_z_axis_sensors_m3x0_5_tapped_holes.mirror(Plane(origin=(0, 0, 0), x_dir=(0, 0, 1), z_dir=(1, 0, 0))), mode=Mode.SUBTRACT)

    # Right Z-Axis Sensor Holes Mirror copy 1 → Right Z-Axis Sensor Holes Mirror cop 2 (revolve, cut)
    with BuildSketch(Plane(origin=(31, 3.5, 104.85), x_dir=(0, 0, 1), z_dir=(0, 1, 0))):
        Polygon((0, 0), (0, -10.751075774), (1.25, -10), (1.25, 0), align=None)
    revolve(axis=Axis((37.35, 3.5, 104.85), (1, 0, 0)), mode=Mode.SUBTRACT)


solid = part.part
